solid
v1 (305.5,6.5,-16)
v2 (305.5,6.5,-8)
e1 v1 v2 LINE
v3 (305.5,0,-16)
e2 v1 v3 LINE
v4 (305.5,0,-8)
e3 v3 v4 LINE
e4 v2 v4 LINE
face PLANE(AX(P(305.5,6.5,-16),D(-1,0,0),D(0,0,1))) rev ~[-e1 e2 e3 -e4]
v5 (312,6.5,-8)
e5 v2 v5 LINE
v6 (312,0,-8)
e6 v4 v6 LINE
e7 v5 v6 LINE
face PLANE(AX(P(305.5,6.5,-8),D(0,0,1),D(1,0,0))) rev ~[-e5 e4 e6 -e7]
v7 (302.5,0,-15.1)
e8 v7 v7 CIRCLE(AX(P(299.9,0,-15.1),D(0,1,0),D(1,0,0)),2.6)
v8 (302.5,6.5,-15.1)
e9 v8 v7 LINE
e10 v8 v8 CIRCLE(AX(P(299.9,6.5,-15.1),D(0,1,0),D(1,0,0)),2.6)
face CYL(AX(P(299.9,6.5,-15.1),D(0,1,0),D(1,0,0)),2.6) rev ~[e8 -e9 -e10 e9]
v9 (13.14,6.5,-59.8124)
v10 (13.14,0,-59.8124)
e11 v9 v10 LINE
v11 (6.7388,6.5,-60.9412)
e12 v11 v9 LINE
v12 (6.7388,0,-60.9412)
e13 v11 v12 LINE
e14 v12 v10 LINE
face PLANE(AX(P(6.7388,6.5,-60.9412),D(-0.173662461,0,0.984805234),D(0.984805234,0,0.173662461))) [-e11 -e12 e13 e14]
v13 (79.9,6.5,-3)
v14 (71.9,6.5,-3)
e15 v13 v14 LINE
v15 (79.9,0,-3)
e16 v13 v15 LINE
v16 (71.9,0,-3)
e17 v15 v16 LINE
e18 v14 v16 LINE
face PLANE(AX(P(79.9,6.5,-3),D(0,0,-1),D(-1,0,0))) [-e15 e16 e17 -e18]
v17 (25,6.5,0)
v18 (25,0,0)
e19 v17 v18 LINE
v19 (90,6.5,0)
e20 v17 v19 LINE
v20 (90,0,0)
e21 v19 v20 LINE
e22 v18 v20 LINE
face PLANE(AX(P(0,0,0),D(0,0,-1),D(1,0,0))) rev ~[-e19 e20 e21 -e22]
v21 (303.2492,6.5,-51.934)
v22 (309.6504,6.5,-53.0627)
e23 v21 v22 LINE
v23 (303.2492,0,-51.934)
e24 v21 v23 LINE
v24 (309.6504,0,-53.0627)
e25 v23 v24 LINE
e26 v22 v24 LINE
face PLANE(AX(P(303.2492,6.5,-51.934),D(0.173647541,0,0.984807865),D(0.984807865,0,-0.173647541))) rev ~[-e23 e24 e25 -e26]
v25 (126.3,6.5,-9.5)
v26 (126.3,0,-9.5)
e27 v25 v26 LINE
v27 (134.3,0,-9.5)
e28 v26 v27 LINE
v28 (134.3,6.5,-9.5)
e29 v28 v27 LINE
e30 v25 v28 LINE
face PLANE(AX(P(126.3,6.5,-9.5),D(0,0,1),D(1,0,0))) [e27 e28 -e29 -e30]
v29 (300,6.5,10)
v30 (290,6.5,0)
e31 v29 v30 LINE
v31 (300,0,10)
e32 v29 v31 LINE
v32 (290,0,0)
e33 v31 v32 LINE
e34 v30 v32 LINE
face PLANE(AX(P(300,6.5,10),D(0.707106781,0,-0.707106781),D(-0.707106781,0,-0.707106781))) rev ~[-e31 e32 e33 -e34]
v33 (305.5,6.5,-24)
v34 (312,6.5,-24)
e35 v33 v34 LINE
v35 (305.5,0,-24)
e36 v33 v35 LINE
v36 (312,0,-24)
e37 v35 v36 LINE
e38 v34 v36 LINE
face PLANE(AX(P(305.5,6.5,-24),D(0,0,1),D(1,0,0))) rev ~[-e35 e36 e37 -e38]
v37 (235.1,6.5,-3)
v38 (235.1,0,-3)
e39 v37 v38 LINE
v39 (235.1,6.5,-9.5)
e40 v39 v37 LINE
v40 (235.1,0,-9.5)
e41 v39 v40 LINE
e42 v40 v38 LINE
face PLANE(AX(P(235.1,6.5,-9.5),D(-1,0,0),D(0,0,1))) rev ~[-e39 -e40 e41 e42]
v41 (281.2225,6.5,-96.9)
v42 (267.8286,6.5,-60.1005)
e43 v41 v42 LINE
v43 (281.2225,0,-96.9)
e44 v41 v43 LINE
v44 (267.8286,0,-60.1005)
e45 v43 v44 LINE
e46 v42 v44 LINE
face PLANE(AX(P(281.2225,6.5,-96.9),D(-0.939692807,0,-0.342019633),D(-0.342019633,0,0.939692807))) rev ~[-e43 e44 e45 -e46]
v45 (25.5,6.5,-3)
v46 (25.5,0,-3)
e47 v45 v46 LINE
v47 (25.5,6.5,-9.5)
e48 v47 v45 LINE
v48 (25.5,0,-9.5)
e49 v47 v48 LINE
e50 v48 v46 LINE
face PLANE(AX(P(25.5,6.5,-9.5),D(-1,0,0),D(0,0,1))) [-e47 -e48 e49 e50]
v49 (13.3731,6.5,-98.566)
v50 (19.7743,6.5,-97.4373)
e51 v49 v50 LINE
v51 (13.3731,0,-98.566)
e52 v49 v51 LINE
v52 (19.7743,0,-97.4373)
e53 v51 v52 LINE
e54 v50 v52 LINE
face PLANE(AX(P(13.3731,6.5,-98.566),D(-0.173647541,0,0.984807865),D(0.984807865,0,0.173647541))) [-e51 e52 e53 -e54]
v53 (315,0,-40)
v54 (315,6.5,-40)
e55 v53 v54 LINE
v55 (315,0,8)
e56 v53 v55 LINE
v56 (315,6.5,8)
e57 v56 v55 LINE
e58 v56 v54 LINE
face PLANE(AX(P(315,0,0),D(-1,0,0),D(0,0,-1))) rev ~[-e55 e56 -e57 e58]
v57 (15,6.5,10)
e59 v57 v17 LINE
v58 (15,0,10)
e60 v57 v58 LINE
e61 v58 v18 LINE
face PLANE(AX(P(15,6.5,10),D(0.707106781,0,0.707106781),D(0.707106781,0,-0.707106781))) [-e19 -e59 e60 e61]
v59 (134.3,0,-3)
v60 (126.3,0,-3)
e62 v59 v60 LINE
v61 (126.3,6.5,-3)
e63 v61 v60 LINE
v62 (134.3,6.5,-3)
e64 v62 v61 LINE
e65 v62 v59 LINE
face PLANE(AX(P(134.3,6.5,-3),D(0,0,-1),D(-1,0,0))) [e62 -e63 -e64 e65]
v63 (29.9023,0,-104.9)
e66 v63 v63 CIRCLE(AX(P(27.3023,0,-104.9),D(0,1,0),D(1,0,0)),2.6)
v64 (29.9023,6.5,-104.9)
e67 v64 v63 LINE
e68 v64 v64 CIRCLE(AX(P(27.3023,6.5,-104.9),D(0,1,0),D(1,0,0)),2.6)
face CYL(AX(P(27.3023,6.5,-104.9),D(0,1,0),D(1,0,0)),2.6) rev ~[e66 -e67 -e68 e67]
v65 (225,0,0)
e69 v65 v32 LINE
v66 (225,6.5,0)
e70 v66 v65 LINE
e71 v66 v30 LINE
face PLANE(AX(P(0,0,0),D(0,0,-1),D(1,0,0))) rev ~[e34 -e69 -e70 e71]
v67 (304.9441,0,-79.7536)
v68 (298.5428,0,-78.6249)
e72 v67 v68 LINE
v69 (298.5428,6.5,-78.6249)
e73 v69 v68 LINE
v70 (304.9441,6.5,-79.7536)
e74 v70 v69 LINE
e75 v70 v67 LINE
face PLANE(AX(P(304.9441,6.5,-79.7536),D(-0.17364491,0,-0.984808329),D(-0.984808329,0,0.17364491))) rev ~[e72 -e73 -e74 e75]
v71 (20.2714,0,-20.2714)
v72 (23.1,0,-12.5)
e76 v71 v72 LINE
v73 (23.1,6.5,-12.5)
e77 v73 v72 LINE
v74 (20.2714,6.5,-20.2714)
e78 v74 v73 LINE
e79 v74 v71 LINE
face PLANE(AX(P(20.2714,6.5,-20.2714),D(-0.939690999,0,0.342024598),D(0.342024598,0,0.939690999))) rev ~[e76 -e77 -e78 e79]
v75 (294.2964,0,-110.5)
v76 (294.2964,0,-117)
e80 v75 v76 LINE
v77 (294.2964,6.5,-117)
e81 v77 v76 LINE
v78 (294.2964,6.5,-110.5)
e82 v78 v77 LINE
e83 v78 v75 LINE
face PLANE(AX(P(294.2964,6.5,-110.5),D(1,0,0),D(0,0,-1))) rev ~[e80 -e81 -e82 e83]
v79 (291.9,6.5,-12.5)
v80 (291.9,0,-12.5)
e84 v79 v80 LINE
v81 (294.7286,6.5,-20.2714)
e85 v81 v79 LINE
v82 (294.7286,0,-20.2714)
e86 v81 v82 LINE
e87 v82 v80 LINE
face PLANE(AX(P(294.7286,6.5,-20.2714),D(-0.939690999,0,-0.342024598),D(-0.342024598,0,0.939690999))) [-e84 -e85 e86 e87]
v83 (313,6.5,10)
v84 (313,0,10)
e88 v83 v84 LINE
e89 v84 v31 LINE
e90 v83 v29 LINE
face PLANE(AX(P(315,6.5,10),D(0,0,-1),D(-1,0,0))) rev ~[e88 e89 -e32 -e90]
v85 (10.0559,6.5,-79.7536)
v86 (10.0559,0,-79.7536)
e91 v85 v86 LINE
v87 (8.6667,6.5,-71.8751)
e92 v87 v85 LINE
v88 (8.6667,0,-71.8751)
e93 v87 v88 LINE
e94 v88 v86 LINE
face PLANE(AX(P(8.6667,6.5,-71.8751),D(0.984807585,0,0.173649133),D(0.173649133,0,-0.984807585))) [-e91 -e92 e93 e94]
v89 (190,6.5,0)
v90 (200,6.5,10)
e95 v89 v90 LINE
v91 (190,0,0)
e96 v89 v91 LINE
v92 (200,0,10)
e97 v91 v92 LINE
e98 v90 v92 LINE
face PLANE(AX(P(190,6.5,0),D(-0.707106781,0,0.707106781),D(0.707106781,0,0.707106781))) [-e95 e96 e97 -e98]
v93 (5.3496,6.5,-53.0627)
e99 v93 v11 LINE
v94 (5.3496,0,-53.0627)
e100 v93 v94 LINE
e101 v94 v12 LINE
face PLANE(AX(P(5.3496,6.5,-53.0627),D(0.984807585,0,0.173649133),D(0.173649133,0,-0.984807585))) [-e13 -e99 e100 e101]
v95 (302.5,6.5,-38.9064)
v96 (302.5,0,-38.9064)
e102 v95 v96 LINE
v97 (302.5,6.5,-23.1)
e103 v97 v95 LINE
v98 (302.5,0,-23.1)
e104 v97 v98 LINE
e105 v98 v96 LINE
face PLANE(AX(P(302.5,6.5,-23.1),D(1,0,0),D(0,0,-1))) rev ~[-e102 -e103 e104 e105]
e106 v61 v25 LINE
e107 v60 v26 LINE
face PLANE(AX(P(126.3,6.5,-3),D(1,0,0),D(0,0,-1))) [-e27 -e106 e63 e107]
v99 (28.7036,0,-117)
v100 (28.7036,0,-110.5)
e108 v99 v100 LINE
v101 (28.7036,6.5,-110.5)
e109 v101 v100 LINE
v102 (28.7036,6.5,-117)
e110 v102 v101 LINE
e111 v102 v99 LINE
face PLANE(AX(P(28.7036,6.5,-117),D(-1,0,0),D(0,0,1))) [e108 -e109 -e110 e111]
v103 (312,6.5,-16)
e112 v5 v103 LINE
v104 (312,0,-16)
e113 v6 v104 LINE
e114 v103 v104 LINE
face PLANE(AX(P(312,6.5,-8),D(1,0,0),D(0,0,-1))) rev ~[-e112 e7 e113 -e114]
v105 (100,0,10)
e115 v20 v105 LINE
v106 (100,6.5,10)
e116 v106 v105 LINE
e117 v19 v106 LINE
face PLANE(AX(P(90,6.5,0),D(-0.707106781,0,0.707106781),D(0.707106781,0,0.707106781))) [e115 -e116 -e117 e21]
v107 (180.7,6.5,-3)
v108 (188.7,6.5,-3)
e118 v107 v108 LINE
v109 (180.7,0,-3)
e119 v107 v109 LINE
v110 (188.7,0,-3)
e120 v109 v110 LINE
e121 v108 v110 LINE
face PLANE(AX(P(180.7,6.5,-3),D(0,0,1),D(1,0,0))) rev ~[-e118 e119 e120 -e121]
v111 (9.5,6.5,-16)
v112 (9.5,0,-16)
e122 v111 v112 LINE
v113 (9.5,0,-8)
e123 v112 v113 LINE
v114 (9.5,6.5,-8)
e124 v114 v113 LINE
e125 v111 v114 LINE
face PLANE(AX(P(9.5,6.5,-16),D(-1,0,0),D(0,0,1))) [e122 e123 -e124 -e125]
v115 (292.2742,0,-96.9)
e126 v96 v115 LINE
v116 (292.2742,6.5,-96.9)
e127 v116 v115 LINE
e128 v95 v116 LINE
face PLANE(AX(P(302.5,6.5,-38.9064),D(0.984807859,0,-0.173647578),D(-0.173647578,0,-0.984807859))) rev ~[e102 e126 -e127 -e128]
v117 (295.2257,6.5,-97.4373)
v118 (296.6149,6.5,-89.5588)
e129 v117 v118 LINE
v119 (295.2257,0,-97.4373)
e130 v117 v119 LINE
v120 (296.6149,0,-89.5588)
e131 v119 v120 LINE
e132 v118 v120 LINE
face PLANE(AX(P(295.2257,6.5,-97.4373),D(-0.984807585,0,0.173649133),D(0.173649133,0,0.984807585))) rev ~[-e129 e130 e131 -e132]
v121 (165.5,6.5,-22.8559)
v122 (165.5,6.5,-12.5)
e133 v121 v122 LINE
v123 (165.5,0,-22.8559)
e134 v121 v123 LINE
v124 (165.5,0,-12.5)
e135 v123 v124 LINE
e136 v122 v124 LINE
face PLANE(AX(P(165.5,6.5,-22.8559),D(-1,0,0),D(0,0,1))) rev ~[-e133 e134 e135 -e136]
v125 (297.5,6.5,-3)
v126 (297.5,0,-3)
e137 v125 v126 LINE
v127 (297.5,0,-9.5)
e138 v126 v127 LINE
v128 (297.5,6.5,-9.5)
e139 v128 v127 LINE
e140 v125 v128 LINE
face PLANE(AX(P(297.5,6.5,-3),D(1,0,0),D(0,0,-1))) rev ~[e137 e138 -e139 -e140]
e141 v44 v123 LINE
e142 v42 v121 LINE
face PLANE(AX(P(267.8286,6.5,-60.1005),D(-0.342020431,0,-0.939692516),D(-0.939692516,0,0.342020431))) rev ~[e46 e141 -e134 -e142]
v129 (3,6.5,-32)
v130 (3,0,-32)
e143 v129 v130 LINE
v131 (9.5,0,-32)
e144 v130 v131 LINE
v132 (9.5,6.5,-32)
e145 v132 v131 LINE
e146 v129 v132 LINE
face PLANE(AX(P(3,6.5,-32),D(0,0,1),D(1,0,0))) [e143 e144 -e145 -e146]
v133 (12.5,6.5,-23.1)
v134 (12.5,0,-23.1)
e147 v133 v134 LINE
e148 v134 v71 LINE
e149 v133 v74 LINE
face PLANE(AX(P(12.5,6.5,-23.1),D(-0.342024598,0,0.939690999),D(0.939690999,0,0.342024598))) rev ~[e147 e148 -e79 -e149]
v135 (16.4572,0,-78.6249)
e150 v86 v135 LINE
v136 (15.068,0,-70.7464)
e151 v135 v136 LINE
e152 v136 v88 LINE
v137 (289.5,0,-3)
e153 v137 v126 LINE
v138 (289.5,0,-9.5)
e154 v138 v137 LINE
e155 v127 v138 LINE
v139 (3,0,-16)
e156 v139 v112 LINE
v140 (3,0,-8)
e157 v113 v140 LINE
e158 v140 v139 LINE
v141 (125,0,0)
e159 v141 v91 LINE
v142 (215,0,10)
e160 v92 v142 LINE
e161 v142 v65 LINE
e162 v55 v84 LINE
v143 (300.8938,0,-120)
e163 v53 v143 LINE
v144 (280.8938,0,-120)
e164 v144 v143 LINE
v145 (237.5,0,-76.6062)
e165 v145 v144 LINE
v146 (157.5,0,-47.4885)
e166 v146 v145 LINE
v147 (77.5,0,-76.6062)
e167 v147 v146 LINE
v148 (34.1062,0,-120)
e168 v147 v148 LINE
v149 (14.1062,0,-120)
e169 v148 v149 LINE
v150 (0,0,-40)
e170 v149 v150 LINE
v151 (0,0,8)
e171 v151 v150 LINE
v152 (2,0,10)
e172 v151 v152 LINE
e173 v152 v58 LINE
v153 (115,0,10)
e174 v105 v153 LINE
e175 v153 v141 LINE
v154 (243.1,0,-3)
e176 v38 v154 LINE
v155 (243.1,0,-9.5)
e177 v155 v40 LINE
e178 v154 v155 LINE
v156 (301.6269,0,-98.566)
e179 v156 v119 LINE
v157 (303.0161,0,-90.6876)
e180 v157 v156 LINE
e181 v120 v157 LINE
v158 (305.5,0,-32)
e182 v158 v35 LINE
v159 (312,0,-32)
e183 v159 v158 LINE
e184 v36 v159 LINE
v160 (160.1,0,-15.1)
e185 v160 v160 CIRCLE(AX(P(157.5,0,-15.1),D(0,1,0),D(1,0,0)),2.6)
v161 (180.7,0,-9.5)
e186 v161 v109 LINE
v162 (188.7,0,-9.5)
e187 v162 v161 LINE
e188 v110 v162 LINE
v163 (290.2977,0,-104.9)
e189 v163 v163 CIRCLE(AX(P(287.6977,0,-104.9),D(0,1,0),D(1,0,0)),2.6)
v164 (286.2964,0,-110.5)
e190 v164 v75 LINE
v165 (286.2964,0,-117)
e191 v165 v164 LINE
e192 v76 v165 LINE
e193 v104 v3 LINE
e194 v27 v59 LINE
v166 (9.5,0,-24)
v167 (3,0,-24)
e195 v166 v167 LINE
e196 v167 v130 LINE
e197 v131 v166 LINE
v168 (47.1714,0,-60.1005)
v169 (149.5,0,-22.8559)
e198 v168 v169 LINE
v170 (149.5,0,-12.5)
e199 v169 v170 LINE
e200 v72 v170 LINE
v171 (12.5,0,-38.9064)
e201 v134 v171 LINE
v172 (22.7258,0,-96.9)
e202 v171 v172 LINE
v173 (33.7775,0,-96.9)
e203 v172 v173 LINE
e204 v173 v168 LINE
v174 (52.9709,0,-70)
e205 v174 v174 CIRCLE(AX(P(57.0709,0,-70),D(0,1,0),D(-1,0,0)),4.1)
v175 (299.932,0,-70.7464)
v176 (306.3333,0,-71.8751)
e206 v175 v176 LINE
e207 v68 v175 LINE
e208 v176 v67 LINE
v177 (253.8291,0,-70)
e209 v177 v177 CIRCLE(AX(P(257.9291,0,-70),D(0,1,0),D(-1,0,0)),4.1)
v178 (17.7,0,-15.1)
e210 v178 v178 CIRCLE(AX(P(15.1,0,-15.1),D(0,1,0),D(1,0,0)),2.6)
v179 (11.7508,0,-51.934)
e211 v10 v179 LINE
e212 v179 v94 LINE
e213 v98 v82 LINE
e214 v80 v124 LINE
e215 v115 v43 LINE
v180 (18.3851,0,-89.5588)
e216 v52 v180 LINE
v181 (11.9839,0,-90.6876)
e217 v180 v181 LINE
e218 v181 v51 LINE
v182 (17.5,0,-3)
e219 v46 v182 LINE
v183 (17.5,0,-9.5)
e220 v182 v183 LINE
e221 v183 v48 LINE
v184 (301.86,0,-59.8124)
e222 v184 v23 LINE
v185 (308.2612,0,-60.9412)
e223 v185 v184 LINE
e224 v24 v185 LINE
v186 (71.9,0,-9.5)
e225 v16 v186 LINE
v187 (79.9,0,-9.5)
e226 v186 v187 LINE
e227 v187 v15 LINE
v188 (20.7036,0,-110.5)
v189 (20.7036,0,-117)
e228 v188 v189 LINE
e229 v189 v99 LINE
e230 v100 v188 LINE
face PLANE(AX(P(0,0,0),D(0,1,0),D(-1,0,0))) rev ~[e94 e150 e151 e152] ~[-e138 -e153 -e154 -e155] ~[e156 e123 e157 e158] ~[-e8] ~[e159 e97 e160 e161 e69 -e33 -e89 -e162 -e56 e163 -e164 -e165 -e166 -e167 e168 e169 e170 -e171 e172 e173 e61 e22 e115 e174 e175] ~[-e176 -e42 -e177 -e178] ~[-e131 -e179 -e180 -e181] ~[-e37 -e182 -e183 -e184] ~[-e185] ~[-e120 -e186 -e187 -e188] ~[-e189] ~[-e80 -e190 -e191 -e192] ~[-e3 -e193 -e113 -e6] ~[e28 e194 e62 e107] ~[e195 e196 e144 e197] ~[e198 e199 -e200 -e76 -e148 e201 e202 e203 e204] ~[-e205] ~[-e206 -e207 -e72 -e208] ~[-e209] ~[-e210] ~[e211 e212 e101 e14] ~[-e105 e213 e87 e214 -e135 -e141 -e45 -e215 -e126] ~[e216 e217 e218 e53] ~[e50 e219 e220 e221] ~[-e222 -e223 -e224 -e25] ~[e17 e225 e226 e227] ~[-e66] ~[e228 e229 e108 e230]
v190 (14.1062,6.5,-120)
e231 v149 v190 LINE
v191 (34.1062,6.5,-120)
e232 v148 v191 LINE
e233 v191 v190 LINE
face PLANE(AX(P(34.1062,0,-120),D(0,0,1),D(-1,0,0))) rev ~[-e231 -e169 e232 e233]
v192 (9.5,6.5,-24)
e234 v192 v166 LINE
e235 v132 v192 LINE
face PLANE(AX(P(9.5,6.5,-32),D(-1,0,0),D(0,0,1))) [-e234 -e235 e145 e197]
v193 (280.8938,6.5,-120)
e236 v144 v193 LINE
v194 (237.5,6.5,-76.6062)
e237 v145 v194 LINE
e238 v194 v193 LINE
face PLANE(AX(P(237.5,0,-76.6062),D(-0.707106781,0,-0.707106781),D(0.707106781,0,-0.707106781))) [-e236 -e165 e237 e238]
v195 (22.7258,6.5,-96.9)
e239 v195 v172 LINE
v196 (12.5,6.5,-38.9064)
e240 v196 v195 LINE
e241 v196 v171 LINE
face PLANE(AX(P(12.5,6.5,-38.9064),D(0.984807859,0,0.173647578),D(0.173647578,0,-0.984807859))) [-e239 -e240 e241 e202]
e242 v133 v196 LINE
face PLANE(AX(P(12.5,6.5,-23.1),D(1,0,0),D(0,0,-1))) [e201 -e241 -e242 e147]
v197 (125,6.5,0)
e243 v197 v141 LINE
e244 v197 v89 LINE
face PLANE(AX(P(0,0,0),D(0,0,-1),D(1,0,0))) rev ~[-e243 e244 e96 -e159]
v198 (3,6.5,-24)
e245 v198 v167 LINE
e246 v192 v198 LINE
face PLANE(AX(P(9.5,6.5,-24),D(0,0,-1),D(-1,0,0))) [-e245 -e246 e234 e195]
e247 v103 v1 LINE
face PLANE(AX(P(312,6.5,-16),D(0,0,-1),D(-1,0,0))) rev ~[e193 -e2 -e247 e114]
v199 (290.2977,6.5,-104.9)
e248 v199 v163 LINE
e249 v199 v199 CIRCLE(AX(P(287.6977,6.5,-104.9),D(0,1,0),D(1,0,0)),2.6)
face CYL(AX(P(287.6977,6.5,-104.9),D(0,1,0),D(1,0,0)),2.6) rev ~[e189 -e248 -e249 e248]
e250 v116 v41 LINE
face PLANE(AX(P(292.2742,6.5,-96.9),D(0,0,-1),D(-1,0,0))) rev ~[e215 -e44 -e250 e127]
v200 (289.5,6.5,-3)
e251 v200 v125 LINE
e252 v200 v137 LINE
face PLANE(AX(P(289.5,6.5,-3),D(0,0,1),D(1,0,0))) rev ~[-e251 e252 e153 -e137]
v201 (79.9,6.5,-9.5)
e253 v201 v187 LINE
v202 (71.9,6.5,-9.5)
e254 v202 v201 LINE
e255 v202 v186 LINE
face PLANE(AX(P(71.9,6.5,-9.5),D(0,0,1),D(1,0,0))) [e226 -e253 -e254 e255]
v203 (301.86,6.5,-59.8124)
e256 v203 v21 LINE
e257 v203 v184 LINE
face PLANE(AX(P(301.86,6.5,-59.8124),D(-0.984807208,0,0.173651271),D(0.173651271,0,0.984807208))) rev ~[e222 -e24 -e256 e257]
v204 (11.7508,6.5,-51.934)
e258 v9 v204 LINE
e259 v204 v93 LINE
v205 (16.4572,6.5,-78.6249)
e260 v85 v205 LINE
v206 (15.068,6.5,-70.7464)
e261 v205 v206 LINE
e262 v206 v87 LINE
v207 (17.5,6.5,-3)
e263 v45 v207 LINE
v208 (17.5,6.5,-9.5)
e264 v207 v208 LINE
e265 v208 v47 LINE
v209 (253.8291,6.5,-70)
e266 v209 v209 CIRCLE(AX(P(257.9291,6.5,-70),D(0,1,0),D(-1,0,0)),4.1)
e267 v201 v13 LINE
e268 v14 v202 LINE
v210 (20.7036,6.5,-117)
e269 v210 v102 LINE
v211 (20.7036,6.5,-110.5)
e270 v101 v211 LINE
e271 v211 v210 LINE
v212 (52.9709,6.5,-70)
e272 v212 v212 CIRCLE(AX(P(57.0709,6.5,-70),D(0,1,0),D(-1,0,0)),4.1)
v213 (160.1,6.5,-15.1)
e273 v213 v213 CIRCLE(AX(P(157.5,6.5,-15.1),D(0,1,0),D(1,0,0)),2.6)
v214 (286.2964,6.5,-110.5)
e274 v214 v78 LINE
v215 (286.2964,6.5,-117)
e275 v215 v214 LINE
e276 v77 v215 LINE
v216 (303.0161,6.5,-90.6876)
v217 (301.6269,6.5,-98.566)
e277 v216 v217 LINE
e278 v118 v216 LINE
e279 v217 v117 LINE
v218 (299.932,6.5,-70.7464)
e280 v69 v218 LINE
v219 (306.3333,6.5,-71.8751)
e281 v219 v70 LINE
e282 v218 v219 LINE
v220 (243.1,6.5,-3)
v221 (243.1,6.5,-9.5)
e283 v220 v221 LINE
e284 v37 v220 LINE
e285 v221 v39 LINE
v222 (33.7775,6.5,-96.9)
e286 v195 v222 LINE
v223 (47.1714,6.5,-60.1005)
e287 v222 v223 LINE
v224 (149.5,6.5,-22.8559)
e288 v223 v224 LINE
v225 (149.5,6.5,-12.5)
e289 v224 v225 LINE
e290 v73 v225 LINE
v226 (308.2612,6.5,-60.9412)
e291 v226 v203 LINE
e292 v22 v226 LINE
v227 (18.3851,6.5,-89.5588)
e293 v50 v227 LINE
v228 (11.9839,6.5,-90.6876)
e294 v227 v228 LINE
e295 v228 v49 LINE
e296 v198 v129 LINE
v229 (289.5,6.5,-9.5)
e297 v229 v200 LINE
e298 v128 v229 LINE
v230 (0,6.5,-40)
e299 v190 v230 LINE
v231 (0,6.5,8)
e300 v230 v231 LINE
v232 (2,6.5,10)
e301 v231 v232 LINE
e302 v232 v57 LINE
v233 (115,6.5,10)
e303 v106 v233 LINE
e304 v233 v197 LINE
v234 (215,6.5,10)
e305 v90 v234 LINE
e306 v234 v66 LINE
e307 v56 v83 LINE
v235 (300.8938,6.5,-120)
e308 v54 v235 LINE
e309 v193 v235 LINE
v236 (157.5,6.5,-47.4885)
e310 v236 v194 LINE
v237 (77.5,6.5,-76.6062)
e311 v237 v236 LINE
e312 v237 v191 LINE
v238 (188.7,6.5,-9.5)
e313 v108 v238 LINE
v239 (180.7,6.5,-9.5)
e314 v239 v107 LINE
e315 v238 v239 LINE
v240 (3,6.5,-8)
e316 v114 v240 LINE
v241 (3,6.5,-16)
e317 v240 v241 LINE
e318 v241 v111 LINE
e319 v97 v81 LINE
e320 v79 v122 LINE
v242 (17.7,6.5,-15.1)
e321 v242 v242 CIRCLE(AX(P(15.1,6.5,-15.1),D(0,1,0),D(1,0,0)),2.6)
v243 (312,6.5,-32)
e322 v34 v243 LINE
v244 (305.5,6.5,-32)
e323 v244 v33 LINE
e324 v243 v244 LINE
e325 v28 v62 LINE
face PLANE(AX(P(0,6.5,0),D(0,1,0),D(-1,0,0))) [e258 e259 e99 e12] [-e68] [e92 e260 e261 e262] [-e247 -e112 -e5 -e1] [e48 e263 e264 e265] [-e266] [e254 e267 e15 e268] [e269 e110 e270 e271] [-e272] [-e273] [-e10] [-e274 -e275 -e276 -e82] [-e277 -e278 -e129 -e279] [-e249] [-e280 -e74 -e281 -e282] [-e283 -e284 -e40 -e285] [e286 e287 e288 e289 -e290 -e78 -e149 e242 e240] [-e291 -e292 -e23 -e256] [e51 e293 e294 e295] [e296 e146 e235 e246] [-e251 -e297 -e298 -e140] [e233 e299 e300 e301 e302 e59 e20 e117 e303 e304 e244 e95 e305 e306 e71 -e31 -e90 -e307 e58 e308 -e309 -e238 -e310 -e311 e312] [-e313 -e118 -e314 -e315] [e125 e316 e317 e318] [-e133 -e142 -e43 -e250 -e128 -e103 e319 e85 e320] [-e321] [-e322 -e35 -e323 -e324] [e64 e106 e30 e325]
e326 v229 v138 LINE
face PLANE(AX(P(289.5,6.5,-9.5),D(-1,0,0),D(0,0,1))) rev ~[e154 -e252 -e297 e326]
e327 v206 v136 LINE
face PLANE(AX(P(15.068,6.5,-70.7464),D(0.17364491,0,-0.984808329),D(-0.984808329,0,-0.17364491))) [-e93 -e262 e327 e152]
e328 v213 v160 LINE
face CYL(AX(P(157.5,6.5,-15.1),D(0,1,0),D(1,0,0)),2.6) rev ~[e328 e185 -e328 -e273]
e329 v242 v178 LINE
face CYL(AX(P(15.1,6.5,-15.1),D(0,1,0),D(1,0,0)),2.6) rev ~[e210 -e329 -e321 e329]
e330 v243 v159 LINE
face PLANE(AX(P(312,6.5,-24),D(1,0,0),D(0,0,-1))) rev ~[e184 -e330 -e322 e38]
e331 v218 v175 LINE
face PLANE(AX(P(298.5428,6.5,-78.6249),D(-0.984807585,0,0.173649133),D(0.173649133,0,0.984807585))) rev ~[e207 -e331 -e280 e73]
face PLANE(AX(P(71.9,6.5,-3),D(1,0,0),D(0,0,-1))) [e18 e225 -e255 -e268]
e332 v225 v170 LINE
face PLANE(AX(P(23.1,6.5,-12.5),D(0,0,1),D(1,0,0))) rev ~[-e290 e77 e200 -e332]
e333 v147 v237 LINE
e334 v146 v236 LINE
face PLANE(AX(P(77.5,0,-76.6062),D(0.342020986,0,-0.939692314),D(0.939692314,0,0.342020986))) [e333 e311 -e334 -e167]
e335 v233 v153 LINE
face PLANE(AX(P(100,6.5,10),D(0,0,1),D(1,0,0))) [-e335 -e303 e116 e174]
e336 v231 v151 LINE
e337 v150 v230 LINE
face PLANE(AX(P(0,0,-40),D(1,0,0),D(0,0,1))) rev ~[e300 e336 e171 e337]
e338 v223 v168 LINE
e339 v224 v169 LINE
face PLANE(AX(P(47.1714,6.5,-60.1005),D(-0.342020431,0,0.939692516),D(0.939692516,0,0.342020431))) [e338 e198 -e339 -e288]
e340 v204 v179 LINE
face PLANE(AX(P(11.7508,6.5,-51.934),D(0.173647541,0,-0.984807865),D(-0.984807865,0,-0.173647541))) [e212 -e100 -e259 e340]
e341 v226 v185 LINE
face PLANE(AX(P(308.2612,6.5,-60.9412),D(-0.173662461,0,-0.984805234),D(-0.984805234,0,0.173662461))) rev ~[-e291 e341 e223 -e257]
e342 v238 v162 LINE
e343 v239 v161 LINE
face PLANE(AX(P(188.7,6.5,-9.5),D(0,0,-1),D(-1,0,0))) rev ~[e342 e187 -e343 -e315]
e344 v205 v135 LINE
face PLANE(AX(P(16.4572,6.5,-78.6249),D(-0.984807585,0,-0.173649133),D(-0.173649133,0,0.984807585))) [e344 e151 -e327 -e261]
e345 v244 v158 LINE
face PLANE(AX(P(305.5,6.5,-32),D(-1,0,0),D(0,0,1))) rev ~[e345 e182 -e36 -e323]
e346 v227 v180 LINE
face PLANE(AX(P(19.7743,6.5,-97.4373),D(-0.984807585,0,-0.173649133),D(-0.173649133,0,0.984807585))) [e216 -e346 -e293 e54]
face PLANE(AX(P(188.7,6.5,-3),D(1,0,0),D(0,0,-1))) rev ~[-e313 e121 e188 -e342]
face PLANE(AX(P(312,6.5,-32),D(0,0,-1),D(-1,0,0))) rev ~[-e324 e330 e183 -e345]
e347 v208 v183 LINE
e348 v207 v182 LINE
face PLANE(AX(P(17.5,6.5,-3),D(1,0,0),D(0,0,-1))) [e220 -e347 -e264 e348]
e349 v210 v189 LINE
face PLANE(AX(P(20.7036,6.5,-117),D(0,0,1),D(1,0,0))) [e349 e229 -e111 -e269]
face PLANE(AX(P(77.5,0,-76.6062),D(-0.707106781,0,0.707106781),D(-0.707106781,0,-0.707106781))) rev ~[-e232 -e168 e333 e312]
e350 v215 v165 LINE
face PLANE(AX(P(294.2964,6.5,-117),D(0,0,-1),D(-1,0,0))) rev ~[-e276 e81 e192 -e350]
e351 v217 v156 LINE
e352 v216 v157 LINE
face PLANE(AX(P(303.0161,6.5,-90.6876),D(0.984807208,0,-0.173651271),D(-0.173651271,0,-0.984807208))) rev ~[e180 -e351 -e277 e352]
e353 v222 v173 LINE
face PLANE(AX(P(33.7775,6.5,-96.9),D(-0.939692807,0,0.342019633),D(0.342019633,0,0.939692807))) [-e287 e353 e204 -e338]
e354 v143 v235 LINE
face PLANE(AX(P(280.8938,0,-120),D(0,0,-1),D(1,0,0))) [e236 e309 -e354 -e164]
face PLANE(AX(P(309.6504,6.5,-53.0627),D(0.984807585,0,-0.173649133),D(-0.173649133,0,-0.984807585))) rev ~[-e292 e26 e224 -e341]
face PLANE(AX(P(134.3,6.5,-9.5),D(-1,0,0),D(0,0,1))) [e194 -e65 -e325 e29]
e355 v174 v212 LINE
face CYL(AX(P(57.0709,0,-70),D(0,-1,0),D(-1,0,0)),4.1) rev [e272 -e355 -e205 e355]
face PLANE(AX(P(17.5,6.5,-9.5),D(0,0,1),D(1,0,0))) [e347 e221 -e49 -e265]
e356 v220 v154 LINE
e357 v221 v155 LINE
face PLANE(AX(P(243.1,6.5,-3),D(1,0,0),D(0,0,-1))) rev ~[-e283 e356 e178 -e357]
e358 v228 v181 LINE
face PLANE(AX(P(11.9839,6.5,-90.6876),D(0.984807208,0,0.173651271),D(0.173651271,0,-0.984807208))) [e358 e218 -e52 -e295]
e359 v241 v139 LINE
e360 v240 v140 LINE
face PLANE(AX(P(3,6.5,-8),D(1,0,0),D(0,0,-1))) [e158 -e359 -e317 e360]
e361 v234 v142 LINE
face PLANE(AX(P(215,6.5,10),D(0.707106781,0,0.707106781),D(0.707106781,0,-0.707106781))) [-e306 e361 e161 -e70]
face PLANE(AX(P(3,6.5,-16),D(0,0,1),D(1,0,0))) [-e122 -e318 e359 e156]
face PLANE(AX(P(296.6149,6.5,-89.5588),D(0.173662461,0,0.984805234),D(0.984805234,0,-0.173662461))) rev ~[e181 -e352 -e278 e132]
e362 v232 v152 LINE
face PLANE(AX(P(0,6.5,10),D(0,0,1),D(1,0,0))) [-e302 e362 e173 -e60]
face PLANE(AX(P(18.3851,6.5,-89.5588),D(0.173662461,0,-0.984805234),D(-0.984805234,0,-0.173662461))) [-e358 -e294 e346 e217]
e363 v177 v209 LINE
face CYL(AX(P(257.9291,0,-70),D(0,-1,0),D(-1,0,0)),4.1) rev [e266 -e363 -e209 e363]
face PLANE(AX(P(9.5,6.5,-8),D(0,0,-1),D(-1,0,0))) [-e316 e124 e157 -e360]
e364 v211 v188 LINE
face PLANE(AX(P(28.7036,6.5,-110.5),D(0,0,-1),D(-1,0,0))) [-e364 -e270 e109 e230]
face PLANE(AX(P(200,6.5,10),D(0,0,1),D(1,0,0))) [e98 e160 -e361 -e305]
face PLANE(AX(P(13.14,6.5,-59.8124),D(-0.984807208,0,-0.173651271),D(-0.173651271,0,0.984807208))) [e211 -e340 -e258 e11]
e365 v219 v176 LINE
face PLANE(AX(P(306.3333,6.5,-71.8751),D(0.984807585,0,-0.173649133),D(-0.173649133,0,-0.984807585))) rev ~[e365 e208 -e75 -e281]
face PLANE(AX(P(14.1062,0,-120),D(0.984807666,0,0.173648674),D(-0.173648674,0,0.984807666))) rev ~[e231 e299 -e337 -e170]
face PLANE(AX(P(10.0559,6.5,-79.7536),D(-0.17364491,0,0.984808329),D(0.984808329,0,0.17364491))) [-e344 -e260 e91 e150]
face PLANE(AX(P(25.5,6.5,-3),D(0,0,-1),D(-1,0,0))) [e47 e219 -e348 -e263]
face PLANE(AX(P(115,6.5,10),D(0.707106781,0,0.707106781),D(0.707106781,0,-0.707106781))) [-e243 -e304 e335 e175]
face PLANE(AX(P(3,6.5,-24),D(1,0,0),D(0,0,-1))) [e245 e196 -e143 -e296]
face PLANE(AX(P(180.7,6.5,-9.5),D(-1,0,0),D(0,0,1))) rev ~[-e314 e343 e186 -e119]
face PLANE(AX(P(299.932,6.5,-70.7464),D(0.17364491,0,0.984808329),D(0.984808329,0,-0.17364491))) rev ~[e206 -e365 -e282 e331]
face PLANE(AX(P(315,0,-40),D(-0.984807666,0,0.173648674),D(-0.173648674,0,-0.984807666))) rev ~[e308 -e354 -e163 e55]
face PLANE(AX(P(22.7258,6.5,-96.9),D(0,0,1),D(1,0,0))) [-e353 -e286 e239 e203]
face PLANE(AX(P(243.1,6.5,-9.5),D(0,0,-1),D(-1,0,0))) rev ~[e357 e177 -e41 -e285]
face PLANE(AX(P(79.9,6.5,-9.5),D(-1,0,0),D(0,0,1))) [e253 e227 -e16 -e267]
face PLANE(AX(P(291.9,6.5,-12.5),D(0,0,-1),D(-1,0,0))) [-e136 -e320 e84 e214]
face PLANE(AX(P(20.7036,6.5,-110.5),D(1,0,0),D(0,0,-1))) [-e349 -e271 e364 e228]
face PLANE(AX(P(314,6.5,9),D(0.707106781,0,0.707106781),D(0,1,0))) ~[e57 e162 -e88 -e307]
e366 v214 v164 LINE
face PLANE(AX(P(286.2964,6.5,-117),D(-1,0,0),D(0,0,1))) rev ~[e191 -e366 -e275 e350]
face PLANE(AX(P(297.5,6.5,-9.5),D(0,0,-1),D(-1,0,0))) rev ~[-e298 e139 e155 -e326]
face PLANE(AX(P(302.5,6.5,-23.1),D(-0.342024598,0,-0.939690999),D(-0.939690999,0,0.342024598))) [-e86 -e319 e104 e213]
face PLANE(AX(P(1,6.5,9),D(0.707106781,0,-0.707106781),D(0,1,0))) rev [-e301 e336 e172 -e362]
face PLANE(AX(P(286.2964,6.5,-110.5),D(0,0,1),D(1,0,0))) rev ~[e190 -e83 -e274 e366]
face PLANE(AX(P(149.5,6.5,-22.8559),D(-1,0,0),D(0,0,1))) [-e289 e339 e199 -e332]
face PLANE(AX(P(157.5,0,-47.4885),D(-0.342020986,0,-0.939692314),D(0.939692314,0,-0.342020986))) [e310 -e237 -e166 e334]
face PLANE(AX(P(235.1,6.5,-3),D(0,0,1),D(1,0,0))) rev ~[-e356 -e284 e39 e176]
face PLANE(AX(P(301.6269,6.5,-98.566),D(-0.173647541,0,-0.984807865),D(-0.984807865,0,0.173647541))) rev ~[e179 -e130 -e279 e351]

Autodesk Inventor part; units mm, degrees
ref_plane "YZ Plane" through (0, 0, 0) normal (1, 0, 0) x (0, 1, 0)
ref_plane "XZ Plane" through (0, 0, 0) normal (0, 1, 0) x (-1, 0, 0)
ref_plane "XY Plane" through (0, 0, 0) normal (0, 0, 1) x (1, 0, 0)
sketch "Sketch1" plane through (0, 0, 0) normal (0, 1, 0) x (-1, 0, 0)
  line L0 (-77.5, -76.6062) -> (-157.5, -47.4885)
  line L1 (-157.5, -47.4885) -> (-237.5, -76.6062)
  line L2 (-77.5, -76.6062) -> (-34.1062, -120)
  line L3 (-237.5, -76.6062) -> (-280.8938, -120)
  circle A0 centre (-157.5, -172.5) radius 132.5 construction
  line L4 (-280.8938, -120) -> (-300.8938, -120)
  line L5 (-34.1062, -120) -> (-14.1062, -120)
  circle A1 centre (-57.0709, -70) radius 11 construction
  circle A2 centre (-257.9291, -70) radius 11 construction
  line L6 (-14.1062, -120) -> (0, -40)
  line L7 (0, -40) -> (0, 0)
  line L8 (0, 0) -> (-315, 0)
  line L9 (-315, 0) -> (-315, -40)
  line L10 (-315, -40) -> (-300.8938, -120)
  circle A3 centre (-57.0709, -70) radius 4.1
  circle A4 centre (-257.9291, -70) radius 4.1
  dimension "d0" = 140
  dimension "d1" = 90
  dimension "d2" = 160
  dimension "d3" = 265
  dimension "d4" = 20
  dimension "d5" = 22
  dimension "d6" = 40
  dimension "d7" = 10
  dimension "d8" = 10
  dimension "d9" = 80
  dimension "d10" = 172.5
  dimension "d11" = 315
  dimension "d12" = 8.2
  dimension "d13" = 70
extrude "Extrusion1" add sketch "Sketch1" along normal blind 6.5
sketch "Sketch4" plane through (0, 6.5, 0) normal (0, 1, 0) x (1, 0, 0)
  line L0 (0, 40) -> (0, 0) projected
  line L1 (0, 0) -> (315, 0) projected
  line L2 (315, 0) -> (315, 40) projected
  line L3 (34.1062, 120) -> (14.1062, 120) projected
  line L4 (14.1062, 120) -> (0, 40) projected
  line L5 (9.5, 9.5) -> (305.5, 9.5) construction
  line L6 (305.5, 9.5) -> (305.5, 3) construction
  line L7 (305.5, 3) -> (9.5, 3) construction
  line L8 (9.5, 3) -> (9.5, 9.5) construction
  line L9 (15.301, 117) -> (34.1062, 117) construction
  line L10 (34.1062, 117) -> (34.1062, 110.5) construction
  line L11 (34.1062, 110.5) -> (15.301, 110.5) construction
  line L12 (15.301, 110.5) -> (15.301, 117) construction
  line L13 (3, 40) -> (9.5, 40) construction
  line L14 (9.5, 40) -> (9.5, 0) construction
  line L15 (9.5, 0) -> (3, 0) construction
  line L16 (3, 0) -> (3, 40) construction
  line L17 (15.301, 109.5) -> (21.7023, 108.3713) construction
  line L18 (21.7023, 108.3713) -> (9.8229, 41) construction
  line L19 (9.8229, 41) -> (3.4216, 42.1287) construction
  line L20 (3.4216, 42.1287) -> (15.301, 109.5) construction
  line L21 (157.5, 47.4885) -> (157.5, 0) construction
  line L22 (17.5, 9.5) -> (25.5, 9.5)
  line L23 (25.5, 9.5) -> (25.5, 3)
  line L24 (25.5, 3) -> (17.5, 3)
  line L25 (17.5, 3) -> (17.5, 9.5)
  line L26 (71.9, 9.5) -> (79.9, 9.5)
  line L27 (79.9, 9.5) -> (79.9, 3)
  line L28 (79.9, 3) -> (71.9, 3)
  line L29 (71.9, 3) -> (71.9, 9.5)
  line L30 (126.3, 9.5) -> (134.3, 9.5)
  line L31 (134.3, 9.5) -> (134.3, 3)
  line L32 (134.3, 3) -> (126.3, 3)
  line L33 (126.3, 3) -> (126.3, 9.5)
  line L34 (3, 32) -> (9.5, 32)
  line L35 (9.5, 32) -> (9.5, 24)
  line L36 (9.5, 24) -> (3, 24)
  line L37 (3, 24) -> (3, 32)
  line L38 (3, 16) -> (9.5, 16)
  line L39 (9.5, 16) -> (9.5, 8)
  line L40 (9.5, 8) -> (3, 8)
  line L41 (3, 8) -> (3, 16)
  line L42 (20.7036, 117) -> (28.7036, 117)
  line L43 (28.7036, 117) -> (28.7036, 110.5)
  line L44 (28.7036, 110.5) -> (20.7036, 110.5)
  line L45 (20.7036, 110.5) -> (20.7036, 117)
  line L46 (13.3731, 98.566) -> (19.7743, 97.4373)
  line L47 (19.7743, 97.4373) -> (18.3851, 89.5588)
  line L48 (18.3851, 89.5588) -> (11.9839, 90.6876)
  line L49 (11.9839, 90.6876) -> (13.3731, 98.566)
  line L50 (10.0559, 79.7536) -> (16.4572, 78.6249)
  line L51 (16.4572, 78.6249) -> (15.068, 70.7464)
  line L52 (15.068, 70.7464) -> (8.6667, 71.8751)
  line L53 (8.6667, 71.8751) -> (10.0559, 79.7536)
  line L54 (6.7388, 60.9412) -> (13.14, 59.8124)
  line L55 (13.14, 59.8124) -> (11.7508, 51.934)
  line L56 (11.7508, 51.934) -> (5.3496, 53.0627)
  line L57 (5.3496, 53.0627) -> (6.7388, 60.9412)
  line L58 (9.9394, 60.3768) -> (11.8673, 71.3108) construction
  line L59 (8.5502, 52.4983) -> (6.6223, 41.5644) construction
  line L60 (13.2565, 79.1892) -> (15.1845, 90.1232) construction
  line L61 (16.5737, 98.0017) -> (18.5016, 108.9356) construction
  line L62 (6.25, 40) -> (6.25, 32) construction
  line L63 (6.25, 24) -> (6.25, 16) construction
  line L64 (6.25, 8) -> (6.25, 0) construction
  line L65 (25.5, 6.25) -> (71.9, 6.25) construction
  line L66 (79.9, 6.25) -> (126.3, 6.25) construction
  line L67 (134.3, 6.25) -> (180.7, 6.25) construction
  line L68 (297.5, 9.5) -> (289.5, 9.5)
  line L69 (289.5, 9.5) -> (289.5, 3)
  line L70 (289.5, 3) -> (297.5, 3)
  line L71 (297.5, 3) -> (297.5, 9.5)
  line L72 (243.1, 9.5) -> (235.1, 9.5)
  line L73 (235.1, 9.5) -> (235.1, 3)
  line L74 (235.1, 3) -> (243.1, 3)
  line L75 (243.1, 3) -> (243.1, 9.5)
  line L76 (188.7, 9.5) -> (180.7, 9.5)
  line L77 (180.7, 9.5) -> (180.7, 3)
  line L78 (180.7, 3) -> (188.7, 3)
  line L79 (188.7, 3) -> (188.7, 9.5)
  line L80 (312, 32) -> (305.5, 32)
  line L81 (305.5, 32) -> (305.5, 24)
  line L82 (305.5, 24) -> (312, 24)
  line L83 (312, 24) -> (312, 32)
  line L84 (312, 16) -> (305.5, 16)
  line L85 (305.5, 16) -> (305.5, 8)
  line L86 (305.5, 8) -> (312, 8)
  line L87 (312, 8) -> (312, 16)
  line L88 (294.2964, 117) -> (286.2964, 117)
  line L89 (286.2964, 117) -> (286.2964, 110.5)
  line L90 (286.2964, 110.5) -> (294.2964, 110.5)
  line L91 (294.2964, 110.5) -> (294.2964, 117)
  line L92 (301.6269, 98.566) -> (295.2257, 97.4373)
  line L93 (295.2257, 97.4373) -> (296.6149, 89.5588)
  line L94 (296.6149, 89.5588) -> (303.0161, 90.6876)
  line L95 (303.0161, 90.6876) -> (301.6269, 98.566)
  line L96 (304.9441, 79.7536) -> (298.5428, 78.6249)
  line L97 (298.5428, 78.6249) -> (299.932, 70.7464)
  line L98 (299.932, 70.7464) -> (306.3333, 71.8751)
  line L99 (306.3333, 71.8751) -> (304.9441, 79.7536)
  line L100 (308.2612, 60.9412) -> (301.86, 59.8124)
  line L101 (301.86, 59.8124) -> (303.2492, 51.934)
  line L102 (303.2492, 51.934) -> (309.6504, 53.0627)
  line L103 (309.6504, 53.0627) -> (308.2612, 60.9412)
  circle A0 centre (27.3023, 104.9) radius 2.6
  circle A1 centre (15.1, 15.1) radius 2.6
  circle A2 centre (157.5, 15.1) radius 2.6
  circle A3 centre (287.6977, 104.9) radius 2.6
  circle A4 centre (299.9, 15.1) radius 2.6
  point P0 (24.7036, 117)
  point P1 (24.7036, 117)
  point P2 (157.5, 6.25)
  point P3 (290.2964, 117)
  point P4 (290.2964, 117)
  point P5 (305.0606, 60.3768)
  point P6 (303.1327, 71.3108)
  point P7 (306.4498, 52.4983)
  point P8 (301.7435, 79.1892)
  point P9 (299.8155, 90.1232)
  point P10 (298.4263, 98.0017)
  point P11 (296.4984, 108.9356)
  point P12 (308.75, 32)
  point P13 (308.75, 24)
  point P14 (308.75, 16)
  point P15 (308.75, 8)
  point P16 (289.5, 6.25)
  point P17 (243.1, 6.25)
  point P18 (235.1, 6.25)
  point P19 (188.7, 6.25)
  dimension "d17" = 9.5
  dimension "d18" = 3
  dimension "d19" = 6.5
  dimension "d20" = 3
  dimension "d21" = 3
  dimension "d23" = 1
  dimension "d24" = 1
  dimension "d25" = 3
  dimension "d26" = 8
  dimension "d27" = 8
  dimension "d28" = 5.2
  dimension "d29" = 5.6
  dimension "d30" = 5.6
  dimension "d31" = 5.6
  dimension "d32" = 5.6
extrude "Extrusion2" cut sketch "Sketch4" against normal through all
sketch "Sketch5" plane through (0, 6.5, 0) normal (0, 1, 0) x (1, 0, 0)
  line L0 (235.1, 9.5) -> (243.1, 9.5) projected
  line L1 (17.5, 9.5) -> (25.5, 9.5) projected
  circle A0 centre (15.1, 15.1) radius 2.6 projected
  circle A1 centre (27.3023, 104.9) radius 2.6 projected
  circle A2 centre (157.5, 15.1) radius 2.6 projected
  line L2 (9.5, 32) -> (9.5, 24) projected
  circle A3 centre (57.0709, 70) radius 4.1 projected
  line L3 (0, 0) -> (315, 0) projected
  line L4 (237.5, 76.6062) -> (157.5, 47.4885) projected
  line L5 (157.5, 47.4885) -> (77.5, 76.6062) projected
  line L6 (34.1062, 120) -> (14.1062, 120) projected
  line L7 (14.1062, 120) -> (0, 40) projected
  line L8 (11.7508, 51.934) -> (9.5, 39.1689) construction
  line L9 (9.5, 32) -> (9.5, 39.1689) construction
  line L10 (12.5, 23.1) -> (20.2714, 20.2714)
  line L11 (20.2714, 20.2714) -> (23.1, 12.5)
  line L12 (23.1, 12.5) -> (149.5, 12.5)
  line L13 (12.5, 23.1) -> (12.5, 38.9064)
  line L14 (12.5, 38.9064) -> (22.7258, 96.9)
  line L15 (15.1, 15.1) -> (20.2714, 20.2714) construction
  line L16 (22.7258, 96.9) -> (33.7775, 96.9)
  line L17 (33.7775, 96.9) -> (47.1714, 60.1005)
  line L18 (47.1714, 60.1005) -> (149.5, 22.8559)
  line L19 (47.1714, 60.1005) -> (57.0709, 70) construction
  line L20 (149.5, 22.8559) -> (149.5, 12.5)
  line L21 (157.5, 47.4885) -> (157.5, 0) construction
  line L22 (302.5, 23.1) -> (294.7286, 20.2714)
  line L23 (294.7286, 20.2714) -> (291.9, 12.5)
  line L24 (291.9, 12.5) -> (165.5, 12.5)
  line L25 (302.5, 23.1) -> (302.5, 38.9064)
  line L26 (302.5, 38.9064) -> (292.2742, 96.9)
  line L27 (292.2742, 96.9) -> (281.2225, 96.9)
  line L28 (281.2225, 96.9) -> (267.8286, 60.1005)
  line L29 (267.8286, 60.1005) -> (165.5, 22.8559)
  line L30 (165.5, 22.8559) -> (165.5, 12.5)
  dimension "d35" = 130
  dimension "d36" = 65
  dimension "d37" = 3
  dimension "d38" = 3
  dimension "d39" = 3
  dimension "d40" = 8
  dimension "d41" = 8
  dimension "d42" = 130
  dimension "d43" = 65
  dimension "d44" = 8
  dimension "d45" = 14
extrude "Extrusion3" cut sketch "Sketch5" against normal through all contours L13 L14 L16 L17 L18 L20 L12 L11 L10 | L22 L23 L24 L30 L29 L28 L27 L26 L25
sketch "Sketch6" plane through (0, 6.5, 0) normal (0, 1, 0) x (1, 0, 0)
  line L0 (0, 0) -> (315, 0) projected
  line L1 (34.1062, 120) -> (14.1062, 120) projected
  line L2 (0, 0) -> (0, -10)
  line L3 (0, -10) -> (15, -10)
  line L4 (15, -10) -> (25, 0)
  line L5 (90, 0) -> (100, -10)
  line L6 (100, -10) -> (115, -10)
  line L7 (115, -10) -> (125, 0)
  line L8 (190, 0) -> (200, -10)
  line L9 (200, -10) -> (215, -10)
  line L10 (215, -10) -> (225, 0)
  line L11 (25, 0) -> (0, 0)
  line L12 (90, 0) -> (125, 0)
  line L13 (190, 0) -> (225, 0)
  line L14 (315, 0) -> (315, -10)
  line L15 (315, -10) -> (300, -10)
  line L16 (300, -10) -> (290, 0)
  line L17 (290, 0) -> (315, 0)
  line L18 (20, -5) -> (95, -5) construction
  line L19 (120, -5) -> (195, -5) construction
  line L20 (220, -5) -> (295, -5) construction
  dimension "d48" = 45
  dimension "d49" = 10
  dimension "d50" = 15
  dimension "d51" = 15
  dimension "d52" = 15
  dimension "d53" = 15
extrude "Extrusion4" add sketch "Sketch6" against normal blind 6.5
chamfer "Chamfer1" distance 2 angle 45 2 edges at (315, 3.25, 10) (0, 3.25, 10)
equation "\"d8\" = d7"
equation "\"d17\" = d16 + d19"
equation "\"d18\" = d16"
equation "\"d31\" = d30"
equation "\"d32\" = d31"
equation "\"d36\" = 0.5 * d35"
equation "\"d42\" = d35"
equation "\"d43\" = 0.5 * d42"
equation "\"d16\" = 3"
properties part number "spool_stand_b" material "Plywood, Finish"
